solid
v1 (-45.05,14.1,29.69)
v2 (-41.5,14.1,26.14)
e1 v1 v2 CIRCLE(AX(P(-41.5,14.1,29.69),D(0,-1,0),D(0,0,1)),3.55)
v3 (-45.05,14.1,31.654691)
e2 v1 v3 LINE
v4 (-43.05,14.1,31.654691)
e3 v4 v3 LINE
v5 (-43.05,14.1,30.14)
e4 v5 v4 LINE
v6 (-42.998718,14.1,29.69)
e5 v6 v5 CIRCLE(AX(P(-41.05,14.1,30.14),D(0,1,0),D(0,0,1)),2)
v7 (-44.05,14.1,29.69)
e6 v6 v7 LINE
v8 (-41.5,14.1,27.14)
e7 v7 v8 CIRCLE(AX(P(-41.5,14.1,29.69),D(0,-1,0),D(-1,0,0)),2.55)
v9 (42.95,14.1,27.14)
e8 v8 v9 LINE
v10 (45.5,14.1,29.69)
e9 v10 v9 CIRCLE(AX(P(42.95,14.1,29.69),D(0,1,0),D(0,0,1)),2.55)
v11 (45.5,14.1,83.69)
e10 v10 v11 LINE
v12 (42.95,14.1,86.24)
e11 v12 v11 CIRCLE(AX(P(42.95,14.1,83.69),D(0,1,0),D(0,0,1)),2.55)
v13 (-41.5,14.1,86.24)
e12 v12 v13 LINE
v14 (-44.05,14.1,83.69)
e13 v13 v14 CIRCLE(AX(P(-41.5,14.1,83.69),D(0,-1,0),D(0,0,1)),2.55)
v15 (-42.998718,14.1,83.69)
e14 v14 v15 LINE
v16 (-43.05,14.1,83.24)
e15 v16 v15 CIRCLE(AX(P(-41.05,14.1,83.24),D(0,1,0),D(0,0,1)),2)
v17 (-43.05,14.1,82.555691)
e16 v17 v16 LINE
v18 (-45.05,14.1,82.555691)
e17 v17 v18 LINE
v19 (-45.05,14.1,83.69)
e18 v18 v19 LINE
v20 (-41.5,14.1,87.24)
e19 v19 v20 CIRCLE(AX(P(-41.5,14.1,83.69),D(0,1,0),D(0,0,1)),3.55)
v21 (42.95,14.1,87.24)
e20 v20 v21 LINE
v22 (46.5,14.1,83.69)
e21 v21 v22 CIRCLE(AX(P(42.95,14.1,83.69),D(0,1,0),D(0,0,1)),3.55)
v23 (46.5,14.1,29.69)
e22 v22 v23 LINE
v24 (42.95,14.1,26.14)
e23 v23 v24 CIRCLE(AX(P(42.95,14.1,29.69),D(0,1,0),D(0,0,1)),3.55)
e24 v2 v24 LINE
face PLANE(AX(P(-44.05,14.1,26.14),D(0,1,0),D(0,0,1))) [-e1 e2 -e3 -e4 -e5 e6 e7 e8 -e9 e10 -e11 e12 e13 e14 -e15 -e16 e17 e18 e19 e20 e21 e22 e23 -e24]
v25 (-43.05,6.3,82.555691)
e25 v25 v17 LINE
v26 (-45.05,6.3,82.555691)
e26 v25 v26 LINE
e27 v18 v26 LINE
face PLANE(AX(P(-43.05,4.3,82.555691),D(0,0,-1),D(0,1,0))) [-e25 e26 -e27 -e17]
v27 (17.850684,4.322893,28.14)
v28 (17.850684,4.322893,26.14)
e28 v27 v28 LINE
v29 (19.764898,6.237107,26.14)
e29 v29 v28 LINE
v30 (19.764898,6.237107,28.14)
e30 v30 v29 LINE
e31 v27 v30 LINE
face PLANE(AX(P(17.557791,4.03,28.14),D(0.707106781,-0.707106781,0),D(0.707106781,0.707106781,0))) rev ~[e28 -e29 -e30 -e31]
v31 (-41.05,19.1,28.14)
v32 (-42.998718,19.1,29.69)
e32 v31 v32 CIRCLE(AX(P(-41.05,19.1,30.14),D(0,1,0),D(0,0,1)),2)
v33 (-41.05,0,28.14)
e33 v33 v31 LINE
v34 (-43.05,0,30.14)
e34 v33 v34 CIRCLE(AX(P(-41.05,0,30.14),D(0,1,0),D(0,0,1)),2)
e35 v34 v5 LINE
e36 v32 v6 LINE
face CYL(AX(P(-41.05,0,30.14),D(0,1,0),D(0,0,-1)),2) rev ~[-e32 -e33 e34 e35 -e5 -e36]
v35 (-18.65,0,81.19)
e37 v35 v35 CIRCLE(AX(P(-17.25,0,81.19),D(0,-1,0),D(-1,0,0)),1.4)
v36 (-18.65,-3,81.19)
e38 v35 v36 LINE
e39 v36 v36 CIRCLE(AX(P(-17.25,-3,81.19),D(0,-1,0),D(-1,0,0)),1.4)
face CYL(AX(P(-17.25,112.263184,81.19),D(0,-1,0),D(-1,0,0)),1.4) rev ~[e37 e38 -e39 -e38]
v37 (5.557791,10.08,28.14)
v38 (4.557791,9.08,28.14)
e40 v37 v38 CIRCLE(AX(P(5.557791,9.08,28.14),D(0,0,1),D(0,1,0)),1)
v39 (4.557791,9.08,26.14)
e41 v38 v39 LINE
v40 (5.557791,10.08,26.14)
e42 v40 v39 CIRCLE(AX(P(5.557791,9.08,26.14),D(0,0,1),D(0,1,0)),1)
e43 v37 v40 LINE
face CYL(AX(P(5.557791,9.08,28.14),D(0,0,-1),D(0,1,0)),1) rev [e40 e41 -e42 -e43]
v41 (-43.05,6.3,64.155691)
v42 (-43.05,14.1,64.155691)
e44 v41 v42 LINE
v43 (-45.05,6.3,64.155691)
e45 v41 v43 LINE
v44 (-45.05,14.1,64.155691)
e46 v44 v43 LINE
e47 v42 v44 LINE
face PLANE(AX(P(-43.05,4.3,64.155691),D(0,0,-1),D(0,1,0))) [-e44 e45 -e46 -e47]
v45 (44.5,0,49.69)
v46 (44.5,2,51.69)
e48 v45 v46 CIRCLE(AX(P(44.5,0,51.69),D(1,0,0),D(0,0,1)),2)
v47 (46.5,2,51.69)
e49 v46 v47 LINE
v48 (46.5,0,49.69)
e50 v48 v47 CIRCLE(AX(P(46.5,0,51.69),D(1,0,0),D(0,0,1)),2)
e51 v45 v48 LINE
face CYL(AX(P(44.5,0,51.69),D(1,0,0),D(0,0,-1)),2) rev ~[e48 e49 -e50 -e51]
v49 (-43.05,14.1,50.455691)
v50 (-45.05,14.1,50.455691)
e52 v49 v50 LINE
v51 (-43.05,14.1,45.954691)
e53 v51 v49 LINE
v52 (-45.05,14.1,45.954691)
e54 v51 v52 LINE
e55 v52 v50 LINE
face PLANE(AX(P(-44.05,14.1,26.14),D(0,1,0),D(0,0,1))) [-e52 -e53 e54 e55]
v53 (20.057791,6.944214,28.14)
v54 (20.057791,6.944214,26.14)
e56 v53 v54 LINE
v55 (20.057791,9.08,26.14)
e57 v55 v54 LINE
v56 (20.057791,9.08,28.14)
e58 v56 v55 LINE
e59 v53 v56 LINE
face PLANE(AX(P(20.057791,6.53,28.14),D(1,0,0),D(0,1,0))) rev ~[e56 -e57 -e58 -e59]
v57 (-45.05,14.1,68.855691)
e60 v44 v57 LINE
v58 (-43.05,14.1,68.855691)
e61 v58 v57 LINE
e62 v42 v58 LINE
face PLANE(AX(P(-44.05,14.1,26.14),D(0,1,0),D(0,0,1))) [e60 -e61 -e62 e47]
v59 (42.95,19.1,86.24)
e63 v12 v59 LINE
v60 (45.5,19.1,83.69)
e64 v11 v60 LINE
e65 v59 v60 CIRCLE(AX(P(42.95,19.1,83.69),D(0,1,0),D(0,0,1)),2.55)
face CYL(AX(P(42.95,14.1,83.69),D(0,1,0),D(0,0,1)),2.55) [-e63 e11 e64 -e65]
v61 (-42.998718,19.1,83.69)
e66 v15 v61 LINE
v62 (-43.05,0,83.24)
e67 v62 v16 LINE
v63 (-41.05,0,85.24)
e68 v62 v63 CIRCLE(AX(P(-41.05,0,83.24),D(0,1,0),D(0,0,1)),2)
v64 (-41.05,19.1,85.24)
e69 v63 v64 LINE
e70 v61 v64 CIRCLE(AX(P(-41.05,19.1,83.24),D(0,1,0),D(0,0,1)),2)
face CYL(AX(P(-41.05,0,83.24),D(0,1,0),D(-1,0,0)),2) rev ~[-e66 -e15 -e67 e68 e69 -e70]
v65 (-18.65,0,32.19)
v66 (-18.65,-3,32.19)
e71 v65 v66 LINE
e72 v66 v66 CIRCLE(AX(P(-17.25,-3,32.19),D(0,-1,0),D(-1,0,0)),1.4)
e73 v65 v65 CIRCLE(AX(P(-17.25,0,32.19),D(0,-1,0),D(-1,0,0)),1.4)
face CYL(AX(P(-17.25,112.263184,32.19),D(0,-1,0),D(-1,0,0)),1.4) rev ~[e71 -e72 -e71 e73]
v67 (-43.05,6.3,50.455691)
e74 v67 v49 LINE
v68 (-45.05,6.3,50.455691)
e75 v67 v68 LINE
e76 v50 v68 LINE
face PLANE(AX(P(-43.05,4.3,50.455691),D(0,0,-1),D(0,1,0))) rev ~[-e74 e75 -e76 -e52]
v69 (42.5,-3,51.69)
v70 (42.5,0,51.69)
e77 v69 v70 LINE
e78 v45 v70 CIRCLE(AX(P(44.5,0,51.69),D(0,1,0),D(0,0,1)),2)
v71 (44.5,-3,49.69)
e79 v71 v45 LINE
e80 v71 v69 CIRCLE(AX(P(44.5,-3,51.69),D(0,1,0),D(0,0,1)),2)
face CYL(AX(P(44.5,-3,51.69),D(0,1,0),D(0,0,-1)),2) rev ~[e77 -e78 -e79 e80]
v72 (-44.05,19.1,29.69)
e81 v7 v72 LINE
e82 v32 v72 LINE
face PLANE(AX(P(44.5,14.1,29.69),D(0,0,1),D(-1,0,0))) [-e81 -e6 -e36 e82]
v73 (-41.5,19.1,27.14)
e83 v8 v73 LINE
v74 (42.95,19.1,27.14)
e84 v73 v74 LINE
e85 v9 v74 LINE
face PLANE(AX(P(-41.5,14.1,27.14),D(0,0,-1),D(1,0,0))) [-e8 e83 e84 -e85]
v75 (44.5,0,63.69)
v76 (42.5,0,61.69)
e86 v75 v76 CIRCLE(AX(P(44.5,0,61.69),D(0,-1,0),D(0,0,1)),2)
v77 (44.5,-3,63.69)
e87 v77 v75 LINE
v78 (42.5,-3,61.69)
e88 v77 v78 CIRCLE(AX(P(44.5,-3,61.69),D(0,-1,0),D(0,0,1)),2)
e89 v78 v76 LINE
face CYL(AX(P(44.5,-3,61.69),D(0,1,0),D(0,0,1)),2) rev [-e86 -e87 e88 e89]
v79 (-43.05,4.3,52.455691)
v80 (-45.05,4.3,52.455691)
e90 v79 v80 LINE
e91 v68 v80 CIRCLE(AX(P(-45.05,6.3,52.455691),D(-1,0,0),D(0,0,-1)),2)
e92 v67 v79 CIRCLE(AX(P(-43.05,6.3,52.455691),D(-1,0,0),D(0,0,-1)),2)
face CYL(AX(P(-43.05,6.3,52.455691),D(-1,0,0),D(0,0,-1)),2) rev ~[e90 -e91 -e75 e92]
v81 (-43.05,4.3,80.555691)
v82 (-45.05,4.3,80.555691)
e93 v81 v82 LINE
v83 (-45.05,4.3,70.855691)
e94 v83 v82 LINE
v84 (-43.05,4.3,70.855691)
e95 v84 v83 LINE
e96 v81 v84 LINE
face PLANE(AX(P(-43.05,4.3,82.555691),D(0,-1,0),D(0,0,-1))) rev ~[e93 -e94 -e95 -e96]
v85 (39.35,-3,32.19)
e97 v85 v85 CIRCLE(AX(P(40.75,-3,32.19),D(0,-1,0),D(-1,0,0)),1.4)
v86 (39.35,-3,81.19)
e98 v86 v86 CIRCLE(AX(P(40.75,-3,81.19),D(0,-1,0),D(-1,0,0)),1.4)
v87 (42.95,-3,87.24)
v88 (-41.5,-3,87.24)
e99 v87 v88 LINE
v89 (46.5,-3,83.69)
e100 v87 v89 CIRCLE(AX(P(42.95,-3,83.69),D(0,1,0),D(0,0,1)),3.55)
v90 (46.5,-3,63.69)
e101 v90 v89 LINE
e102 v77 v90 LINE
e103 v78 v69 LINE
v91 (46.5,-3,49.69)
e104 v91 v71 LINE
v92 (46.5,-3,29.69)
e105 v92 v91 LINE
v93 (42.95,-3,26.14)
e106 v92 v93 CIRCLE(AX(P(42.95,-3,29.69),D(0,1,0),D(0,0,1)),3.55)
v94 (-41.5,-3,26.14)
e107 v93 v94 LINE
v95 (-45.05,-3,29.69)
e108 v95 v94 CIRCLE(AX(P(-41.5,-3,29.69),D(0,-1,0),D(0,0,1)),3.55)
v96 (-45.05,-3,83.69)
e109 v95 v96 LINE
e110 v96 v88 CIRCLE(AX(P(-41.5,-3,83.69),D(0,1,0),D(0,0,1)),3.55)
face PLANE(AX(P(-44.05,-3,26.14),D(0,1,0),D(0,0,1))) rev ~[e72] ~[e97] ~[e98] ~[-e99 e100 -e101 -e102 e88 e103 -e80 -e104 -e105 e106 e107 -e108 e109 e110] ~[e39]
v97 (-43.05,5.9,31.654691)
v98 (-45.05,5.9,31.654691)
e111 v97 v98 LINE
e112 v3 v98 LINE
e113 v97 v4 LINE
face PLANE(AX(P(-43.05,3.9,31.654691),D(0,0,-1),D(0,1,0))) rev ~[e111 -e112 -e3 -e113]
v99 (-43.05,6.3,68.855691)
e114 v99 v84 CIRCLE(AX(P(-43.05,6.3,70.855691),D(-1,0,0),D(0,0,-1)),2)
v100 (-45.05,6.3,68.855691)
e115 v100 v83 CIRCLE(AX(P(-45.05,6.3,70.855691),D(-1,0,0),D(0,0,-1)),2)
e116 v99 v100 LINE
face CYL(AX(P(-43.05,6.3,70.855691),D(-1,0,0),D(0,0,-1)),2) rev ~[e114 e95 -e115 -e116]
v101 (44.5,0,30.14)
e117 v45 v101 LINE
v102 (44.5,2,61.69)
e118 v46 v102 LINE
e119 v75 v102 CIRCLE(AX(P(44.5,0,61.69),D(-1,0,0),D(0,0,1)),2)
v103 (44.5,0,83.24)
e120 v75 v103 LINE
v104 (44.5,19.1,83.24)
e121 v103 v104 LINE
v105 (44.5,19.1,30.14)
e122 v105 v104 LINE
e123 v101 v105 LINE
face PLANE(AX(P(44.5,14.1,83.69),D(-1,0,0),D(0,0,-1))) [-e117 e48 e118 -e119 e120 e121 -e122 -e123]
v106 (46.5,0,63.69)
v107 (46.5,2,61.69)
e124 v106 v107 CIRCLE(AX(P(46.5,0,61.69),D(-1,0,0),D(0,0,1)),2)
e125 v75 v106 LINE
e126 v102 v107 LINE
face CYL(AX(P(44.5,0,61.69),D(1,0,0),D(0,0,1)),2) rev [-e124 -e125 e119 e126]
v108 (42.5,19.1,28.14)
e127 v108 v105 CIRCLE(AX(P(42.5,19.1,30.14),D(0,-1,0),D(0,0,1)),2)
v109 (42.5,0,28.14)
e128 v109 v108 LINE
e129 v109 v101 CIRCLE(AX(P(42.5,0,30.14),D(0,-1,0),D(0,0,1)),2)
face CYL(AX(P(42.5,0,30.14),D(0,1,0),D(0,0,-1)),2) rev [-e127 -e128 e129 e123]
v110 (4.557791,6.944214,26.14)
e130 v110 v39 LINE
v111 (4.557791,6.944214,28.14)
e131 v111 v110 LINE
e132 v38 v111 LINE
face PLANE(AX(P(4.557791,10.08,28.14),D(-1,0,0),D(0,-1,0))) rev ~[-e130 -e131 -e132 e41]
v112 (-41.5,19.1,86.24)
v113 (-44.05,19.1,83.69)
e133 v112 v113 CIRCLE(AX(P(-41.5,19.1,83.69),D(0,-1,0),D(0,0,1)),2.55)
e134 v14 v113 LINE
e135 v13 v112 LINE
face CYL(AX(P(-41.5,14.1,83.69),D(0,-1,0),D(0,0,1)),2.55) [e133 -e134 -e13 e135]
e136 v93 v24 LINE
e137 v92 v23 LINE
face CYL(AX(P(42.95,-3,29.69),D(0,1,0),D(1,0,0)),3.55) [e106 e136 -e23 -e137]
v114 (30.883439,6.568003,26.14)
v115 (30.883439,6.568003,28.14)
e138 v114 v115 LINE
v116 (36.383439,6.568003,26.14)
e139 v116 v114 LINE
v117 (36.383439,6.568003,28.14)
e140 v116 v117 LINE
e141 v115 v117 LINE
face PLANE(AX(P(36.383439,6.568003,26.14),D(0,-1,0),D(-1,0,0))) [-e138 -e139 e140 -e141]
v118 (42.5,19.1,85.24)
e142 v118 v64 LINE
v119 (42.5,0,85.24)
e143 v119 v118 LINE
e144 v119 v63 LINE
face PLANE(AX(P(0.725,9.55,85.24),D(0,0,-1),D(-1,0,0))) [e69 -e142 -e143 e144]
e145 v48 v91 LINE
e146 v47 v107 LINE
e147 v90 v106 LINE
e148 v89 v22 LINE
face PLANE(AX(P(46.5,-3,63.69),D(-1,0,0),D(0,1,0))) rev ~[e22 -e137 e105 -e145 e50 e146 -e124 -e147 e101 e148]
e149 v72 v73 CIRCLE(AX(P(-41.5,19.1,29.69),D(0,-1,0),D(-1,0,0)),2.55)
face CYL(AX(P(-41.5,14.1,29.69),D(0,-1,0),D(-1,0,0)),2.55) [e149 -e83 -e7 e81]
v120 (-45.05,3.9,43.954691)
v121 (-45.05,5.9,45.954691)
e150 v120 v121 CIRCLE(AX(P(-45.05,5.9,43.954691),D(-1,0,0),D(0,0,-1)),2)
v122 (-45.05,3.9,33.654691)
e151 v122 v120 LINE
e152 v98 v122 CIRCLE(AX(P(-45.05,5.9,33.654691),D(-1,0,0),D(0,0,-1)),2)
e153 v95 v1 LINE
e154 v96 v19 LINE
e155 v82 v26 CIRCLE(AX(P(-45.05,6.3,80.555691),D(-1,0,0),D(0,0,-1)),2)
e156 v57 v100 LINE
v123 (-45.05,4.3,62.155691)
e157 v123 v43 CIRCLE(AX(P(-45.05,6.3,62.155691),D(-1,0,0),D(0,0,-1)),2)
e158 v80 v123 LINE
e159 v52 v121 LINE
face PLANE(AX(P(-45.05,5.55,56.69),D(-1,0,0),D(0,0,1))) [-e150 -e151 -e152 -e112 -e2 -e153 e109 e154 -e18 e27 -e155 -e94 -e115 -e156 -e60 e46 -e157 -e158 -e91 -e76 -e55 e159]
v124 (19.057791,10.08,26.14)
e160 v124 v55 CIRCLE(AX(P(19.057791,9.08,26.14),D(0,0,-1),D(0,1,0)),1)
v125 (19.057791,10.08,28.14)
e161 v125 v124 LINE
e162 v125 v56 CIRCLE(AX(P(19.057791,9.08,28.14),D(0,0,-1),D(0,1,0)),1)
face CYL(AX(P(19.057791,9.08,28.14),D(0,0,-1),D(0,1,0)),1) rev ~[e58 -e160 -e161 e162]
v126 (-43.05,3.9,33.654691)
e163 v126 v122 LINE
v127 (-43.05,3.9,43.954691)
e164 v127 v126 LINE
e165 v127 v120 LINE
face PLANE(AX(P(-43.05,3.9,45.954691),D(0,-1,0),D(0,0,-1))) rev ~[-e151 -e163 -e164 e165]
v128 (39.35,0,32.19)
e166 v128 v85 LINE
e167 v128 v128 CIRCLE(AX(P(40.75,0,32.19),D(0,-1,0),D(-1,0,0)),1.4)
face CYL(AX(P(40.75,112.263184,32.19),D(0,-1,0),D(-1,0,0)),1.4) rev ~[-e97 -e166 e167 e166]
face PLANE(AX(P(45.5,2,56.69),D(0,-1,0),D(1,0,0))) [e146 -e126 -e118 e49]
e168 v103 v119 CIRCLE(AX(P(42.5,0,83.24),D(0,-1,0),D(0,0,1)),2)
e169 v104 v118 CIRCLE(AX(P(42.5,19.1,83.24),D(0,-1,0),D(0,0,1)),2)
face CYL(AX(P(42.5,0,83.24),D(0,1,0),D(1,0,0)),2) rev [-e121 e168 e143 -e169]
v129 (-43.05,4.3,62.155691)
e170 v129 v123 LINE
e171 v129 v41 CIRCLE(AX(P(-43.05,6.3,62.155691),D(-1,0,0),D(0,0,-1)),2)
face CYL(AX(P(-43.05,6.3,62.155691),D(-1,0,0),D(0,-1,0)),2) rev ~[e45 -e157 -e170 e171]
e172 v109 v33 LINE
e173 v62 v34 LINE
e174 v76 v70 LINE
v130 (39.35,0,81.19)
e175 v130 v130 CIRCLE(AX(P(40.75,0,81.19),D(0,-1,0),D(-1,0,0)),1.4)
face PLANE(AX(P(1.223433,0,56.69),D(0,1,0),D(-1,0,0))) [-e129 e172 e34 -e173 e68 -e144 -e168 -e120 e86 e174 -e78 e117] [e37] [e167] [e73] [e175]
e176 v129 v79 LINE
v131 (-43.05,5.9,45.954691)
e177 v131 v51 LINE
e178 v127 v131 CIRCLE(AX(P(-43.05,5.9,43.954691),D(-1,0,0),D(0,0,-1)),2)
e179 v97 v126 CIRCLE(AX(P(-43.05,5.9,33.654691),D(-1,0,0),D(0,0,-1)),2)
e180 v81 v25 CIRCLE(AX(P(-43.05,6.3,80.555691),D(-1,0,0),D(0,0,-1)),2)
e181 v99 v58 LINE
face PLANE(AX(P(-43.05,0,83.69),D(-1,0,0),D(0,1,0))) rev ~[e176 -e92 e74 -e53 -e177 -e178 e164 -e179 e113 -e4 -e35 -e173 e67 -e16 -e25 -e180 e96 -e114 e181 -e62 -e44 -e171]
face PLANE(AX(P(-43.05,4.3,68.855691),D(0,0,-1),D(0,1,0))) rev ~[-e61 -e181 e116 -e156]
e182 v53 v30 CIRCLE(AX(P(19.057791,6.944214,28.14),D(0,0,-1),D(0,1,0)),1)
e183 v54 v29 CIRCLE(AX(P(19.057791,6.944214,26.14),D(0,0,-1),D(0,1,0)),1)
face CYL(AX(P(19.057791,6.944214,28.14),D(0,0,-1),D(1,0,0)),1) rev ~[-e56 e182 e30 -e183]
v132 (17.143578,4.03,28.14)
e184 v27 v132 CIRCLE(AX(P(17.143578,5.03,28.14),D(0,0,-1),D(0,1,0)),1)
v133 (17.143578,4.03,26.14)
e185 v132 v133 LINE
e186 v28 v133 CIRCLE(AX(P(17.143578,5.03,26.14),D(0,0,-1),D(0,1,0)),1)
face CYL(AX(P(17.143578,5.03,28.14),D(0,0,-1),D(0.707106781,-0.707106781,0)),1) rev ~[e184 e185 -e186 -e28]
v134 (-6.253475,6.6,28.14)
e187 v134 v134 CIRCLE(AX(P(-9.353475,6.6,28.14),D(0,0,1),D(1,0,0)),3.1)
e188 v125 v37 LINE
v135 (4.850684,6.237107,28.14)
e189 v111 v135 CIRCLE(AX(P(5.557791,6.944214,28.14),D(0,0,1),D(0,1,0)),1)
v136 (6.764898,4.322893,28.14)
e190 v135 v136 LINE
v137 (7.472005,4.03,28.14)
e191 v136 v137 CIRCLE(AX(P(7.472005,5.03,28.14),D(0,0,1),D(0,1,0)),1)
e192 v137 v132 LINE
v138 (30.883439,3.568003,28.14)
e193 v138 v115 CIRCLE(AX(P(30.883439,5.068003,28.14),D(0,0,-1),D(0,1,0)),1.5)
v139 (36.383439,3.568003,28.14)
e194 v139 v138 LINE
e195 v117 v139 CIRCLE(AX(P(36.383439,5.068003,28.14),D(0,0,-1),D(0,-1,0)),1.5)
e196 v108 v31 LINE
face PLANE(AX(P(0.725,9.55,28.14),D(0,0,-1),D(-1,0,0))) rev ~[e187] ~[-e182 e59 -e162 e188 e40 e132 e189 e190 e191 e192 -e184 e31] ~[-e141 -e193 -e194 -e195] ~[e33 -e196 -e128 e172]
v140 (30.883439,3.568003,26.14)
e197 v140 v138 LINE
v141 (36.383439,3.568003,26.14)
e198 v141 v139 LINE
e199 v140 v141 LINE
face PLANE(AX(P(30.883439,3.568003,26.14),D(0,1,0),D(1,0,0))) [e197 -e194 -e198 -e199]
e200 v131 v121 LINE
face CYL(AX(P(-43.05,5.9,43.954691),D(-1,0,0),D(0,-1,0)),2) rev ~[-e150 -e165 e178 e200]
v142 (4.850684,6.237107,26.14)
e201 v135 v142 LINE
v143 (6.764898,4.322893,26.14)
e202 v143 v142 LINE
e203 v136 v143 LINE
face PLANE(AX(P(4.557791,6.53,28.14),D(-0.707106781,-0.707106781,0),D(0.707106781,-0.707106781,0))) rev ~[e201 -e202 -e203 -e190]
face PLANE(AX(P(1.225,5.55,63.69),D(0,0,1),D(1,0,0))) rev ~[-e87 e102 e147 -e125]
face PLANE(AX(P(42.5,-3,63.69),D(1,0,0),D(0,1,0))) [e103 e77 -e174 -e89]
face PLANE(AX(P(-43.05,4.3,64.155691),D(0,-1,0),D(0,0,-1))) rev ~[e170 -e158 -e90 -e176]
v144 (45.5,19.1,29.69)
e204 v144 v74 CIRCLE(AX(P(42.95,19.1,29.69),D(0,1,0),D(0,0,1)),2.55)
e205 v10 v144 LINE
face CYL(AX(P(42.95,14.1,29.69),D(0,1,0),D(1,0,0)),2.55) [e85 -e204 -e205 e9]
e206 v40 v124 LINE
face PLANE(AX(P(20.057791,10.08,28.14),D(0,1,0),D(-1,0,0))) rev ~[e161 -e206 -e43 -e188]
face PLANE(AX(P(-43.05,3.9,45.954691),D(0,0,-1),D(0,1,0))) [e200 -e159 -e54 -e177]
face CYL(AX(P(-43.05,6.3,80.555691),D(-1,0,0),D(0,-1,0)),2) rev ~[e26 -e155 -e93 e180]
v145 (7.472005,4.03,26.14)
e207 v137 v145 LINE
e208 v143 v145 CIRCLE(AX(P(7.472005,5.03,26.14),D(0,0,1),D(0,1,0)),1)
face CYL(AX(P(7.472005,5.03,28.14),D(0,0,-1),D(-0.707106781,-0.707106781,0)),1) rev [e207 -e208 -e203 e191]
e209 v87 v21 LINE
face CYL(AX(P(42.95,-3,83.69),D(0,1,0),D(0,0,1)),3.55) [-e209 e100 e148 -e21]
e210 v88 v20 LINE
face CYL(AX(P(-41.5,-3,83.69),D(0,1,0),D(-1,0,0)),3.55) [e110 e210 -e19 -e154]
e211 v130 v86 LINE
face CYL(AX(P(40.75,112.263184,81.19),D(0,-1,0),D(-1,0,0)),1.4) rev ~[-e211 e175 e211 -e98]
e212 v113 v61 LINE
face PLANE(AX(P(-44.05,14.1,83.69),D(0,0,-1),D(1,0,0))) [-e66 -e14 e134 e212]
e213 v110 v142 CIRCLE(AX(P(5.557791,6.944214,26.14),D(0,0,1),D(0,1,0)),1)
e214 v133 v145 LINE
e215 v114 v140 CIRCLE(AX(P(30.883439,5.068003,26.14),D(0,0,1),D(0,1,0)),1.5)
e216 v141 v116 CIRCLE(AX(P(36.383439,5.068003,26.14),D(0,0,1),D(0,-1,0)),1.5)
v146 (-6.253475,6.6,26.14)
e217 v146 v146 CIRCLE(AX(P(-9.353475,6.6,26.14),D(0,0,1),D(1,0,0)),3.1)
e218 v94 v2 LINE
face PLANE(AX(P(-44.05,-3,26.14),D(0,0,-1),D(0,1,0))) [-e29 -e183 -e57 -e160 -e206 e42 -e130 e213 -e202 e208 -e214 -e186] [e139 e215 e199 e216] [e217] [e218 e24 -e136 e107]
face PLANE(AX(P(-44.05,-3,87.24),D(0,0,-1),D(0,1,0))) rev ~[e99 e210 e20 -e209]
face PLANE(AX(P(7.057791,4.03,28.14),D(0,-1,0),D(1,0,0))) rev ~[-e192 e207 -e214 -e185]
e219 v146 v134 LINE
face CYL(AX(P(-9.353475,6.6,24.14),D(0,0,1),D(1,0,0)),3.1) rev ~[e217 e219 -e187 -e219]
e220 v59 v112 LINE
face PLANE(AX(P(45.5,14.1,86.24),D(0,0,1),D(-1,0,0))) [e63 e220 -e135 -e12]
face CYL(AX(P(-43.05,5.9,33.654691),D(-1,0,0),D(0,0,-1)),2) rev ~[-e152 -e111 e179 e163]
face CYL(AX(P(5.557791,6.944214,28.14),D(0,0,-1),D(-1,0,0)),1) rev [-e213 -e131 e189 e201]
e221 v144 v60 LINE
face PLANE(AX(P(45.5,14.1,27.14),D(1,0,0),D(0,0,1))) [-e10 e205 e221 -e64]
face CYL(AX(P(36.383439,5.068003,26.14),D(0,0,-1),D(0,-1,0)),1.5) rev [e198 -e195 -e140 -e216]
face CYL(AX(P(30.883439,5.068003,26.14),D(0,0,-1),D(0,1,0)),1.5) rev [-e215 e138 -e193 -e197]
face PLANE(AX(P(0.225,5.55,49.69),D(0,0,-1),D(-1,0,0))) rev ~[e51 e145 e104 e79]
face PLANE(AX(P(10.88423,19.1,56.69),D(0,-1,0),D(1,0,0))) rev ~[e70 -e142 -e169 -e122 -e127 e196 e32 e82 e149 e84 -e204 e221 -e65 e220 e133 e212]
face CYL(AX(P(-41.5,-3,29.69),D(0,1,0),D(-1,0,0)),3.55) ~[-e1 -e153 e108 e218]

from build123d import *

# Parameters (mm, degrees)
SKETCH1_W                      = 86.55
SKETCH1_H                      = 17.1
BOSS_EXTRUDE1_DEPTH            = 14
SKETCH2_W                      = 88.55
SKETCH2_H                      = 17.1
BOSS_EXTRUDE2_DEPTH            = 23.55
SKETCH3_W                      = 37.55
SKETCH3_H                      = 17.1
BOSS_EXTRUDE3_DEPTH            = 2
SKETCH4_W                      = 90.55
SKETCH4_H                      = 17.1
BOSS_EXTRUDE4_DEPTH            = 23.55
SKETCH5_W                      = 2
SKETCH5_H                      = 14
CUT_EXTRUDE1_DEPTH             = 3
CUT_EXTRUDE2_DEPTH             = 14.1
SKETCH7_W                      = 2
SKETCH7_H                      = 14
CUT_EXTRUDE3_DEPTH             = 2
BOSS_EXTRUDE5_DEPTH            = 5
SKETCH9_W                      = 87.55
SKETCH9_H                      = 19.1
CUT_EXTRUDE4_DEPTH             = 1.55
SKETCH10_W                     = 61.1
SKETCH10_H                     = 17.1
BOSS_EXTRUDE6_DEPTH            = 1
CUT_EXTRUDE5_REACH             = 79.588
SKETCH11_W                     = 87.55
SKETCH11_H                     = 19.1
SKETCH12_W                     = 13.7
SKETCH12_H                     = 9.8
CUT_EXTRUDE6_DEPTH             = 127.470668932
SKETCH13_W                     = 13.7
SKETCH13_H                     = 9.8
CUT_EXTRUDE7_DEPTH             = 127.470668932
SKETCH14_W                     = 14.3
SKETCH14_H                     = 10.2
CUT_EXTRUDE8_DEPTH             = 127.470668932
CUT_EXTRUDE10_DEPTH            = 78.587821209
CUT_EXTRUDE11_REACH            = 81.122
F_2_8_2_8_DIAMETER_HOLE1_D     = 2.8
F_6_2_6_2_DIAMETER_HOLE1_D     = 6.2
F_6_2_6_2_DIAMETER_HOLE1_DEPTH = 2
FILLET1_R                      = 1
FILLET2_R                      = 2
FILLET3_R                      = 2.55
FILLET4_R                      = 3.55


with BuildPart() as part:
    # Sketch1 → Boss-Extrude1 (new body)
    with BuildSketch(Plane.XY.offset(63.69)):
        with Locations((-0.775, 5.55)):
            Rectangle(SKETCH1_W, SKETCH1_H)
    extrude(amount=-BOSS_EXTRUDE1_DEPTH)

    # Sketch2 → Boss-Extrude2 (add)
    with BuildSketch(Plane(origin=(0, 0, 49.69), x_dir=(-1, 0, 0), z_dir=(0, 0, -1))):
        with Locations((-0.225, 5.55)):
            Rectangle(SKETCH2_W, SKETCH2_H)
    extrude(amount=BOSS_EXTRUDE2_DEPTH)

    # Sketch3 → Boss-Extrude3 (add)
    with BuildSketch(Plane(origin=(44.5, 0, 0), x_dir=(0, 0, -1), z_dir=(1, 0, 0))):
        with Locations((-44.915, 5.55)):
            Rectangle(SKETCH3_W, SKETCH3_H)
    extrude(amount=BOSS_EXTRUDE3_DEPTH)

    # Sketch4 → Boss-Extrude4 (add)
    with BuildSketch(Plane.XY.offset(63.69)):
        with Locations((1.225, 5.55)):
            Rectangle(SKETCH4_W, SKETCH4_H)
    extrude(amount=BOSS_EXTRUDE4_DEPTH)

    # Sketch5 → Cut-Extrude1 (cut)
    with BuildSketch(Plane.XZ.offset(3)):
        with Locations((45.5, 56.69)):
            Rectangle(SKETCH5_W, SKETCH5_H)
    extrude(amount=-CUT_EXTRUDE1_DEPTH, mode=Mode.SUBTRACT)

    # Sketch6 → Cut-Extrude2 (cut)
    with BuildSketch(Plane(origin=(0, 14.1, 0), x_dir=(-1, 0, 0), z_dir=(0, 1, 0))):
        Polygon((43.05, 29.69), (43.05, 83.69), (-44.5, 83.69), (-44.5, 63.69), (-42.5, 63.69), (-42.5, 49.69), (-44.5, 49.69), (-44.5, 29.69), align=None)
    extrude(amount=-CUT_EXTRUDE2_DEPTH, mode=Mode.SUBTRACT)

    # Sketch7 → Cut-Extrude3 (cut)
    with BuildSketch(Plane.XZ):
        with Locations((45.5, 56.69)):
            Rectangle(SKETCH7_W, SKETCH7_H)
    extrude(amount=-CUT_EXTRUDE3_DEPTH, mode=Mode.SUBTRACT)

    # Sketch8 → Boss-Extrude5 (add)
    with BuildSketch(Plane(origin=(0, 14.1, 0), x_dir=(-1, 0, 0), z_dir=(0, 1, 0))):
        with BuildLine():
            Line((-44.5, 83.69), (-44.5, 29.69))
            Line((-44.5, 29.69), (44.05, 29.69))
            ThreePointArc((44.05, 29.69), (43.303122292, 27.886877708), (41.5, 27.14))
            Line((41.5, 27.14), (-45.5, 27.14))
            Line((-45.5, 27.14), (-45.5, 86.24))
            Line((-45.5, 86.24), (41.5, 86.24))
            ThreePointArc((41.5, 86.24), (43.303122292, 85.493122292), (44.05, 83.69))
            Line((44.05, 83.69), (-44.5, 83.69))
        make_face()
    extrude(amount=BOSS_EXTRUDE5_DEPTH)

    # Sketch9 → Cut-Extrude4 (cut)
    with BuildSketch(Plane(origin=(0, 0, 83.69), x_dir=(-1, 0, 0), z_dir=(0, 0, -1))):
        with Locations((-0.725, 9.55)):
            Rectangle(SKETCH9_W, SKETCH9_H)
    extrude(amount=-CUT_EXTRUDE4_DEPTH, mode=Mode.SUBTRACT)

    # Sketch10 → Boss-Extrude6 (add)
    with BuildSketch(Plane.ZY.offset(44.05)):
        with Locations((56.69, 5.55)):
            Rectangle(SKETCH10_W, SKETCH10_H)
    extrude(amount=BOSS_EXTRUDE6_DEPTH)

    # Sketch11 → Cut-Extrude5 (cut, up to next)
    with BuildSketch(Plane(origin=(0, 0, 28.14), x_dir=(-1, 0, 0), z_dir=(0, 0, -1)), mode=Mode.PRIVATE) as cut_extrude5_sk1:
        with Locations((-0.725, 9.55)):
            Rectangle(SKETCH11_W, SKETCH11_H)
    cut_extrude5_tool1 = extrude(cut_extrude5_sk1.sketch, amount=-CUT_EXTRUDE5_REACH, mode=Mode.PRIVATE) & part.part
    add(cut_extrude5_tool1.solids().sort_by_distance((0.725, 9.55, 28.14))[0], mode=Mode.SUBTRACT)

    # Sketch12 → Cut-Extrude6 (cut, through all)
    with BuildSketch(Plane(origin=(-43.05, 0, 0), x_dir=(0, 0, -1), z_dir=(1, 0, 0))):
        with Locations((-75.705690784, 9.2)):
            Rectangle(SKETCH12_W, SKETCH12_H)
    extrude(amount=-CUT_EXTRUDE6_DEPTH, mode=Mode.SUBTRACT)

    # Sketch13 → Cut-Extrude7 (cut, through all)
    with BuildSketch(Plane(origin=(-43.05, 0, 0), x_dir=(0, 0, -1), z_dir=(1, 0, 0))):
        with Locations((-57.305690784, 9.2)):
            Rectangle(SKETCH13_W, SKETCH13_H)
    extrude(amount=-CUT_EXTRUDE7_DEPTH, mode=Mode.SUBTRACT)

    # Sketch14 → Cut-Extrude8 (cut, through all)
    with BuildSketch(Plane(origin=(-43.05, 0, 0), x_dir=(0, 0, -1), z_dir=(1, 0, 0))):
        with Locations((-38.80469145, 9)):
            Rectangle(SKETCH14_W, SKETCH14_H)
    extrude(amount=-CUT_EXTRUDE8_DEPTH, mode=Mode.SUBTRACT)

    # Sketch16 → Cut-Extrude10 (cut, through all)
    with BuildSketch(Plane.XY.offset(28.14)):
        Polygon((20.057791158, 10.08), (4.557791136, 10.08), (4.557791136, 6.52999997), (7.057791136, 4.02999997), (17.557791158, 4.02999997), (20.057791158, 6.52999997), align=None)
    extrude(amount=-CUT_EXTRUDE10_DEPTH, mode=Mode.SUBTRACT)

    # Sketch17 → Cut-Extrude11 (cut, up to next)
    with BuildSketch(Plane(origin=(0, 0, 26.14), x_dir=(-1, 0, 0), z_dir=(0, 0, -1)), mode=Mode.PRIVATE) as cut_extrude11_sk1:
        with BuildLine():
            Line((-36.3834392, 6.568002867), (-30.8834392, 6.568002867))
            ThreePointArc((-30.8834392, 6.568002867), (-29.3834392, 5.068002867), (-30.8834392, 3.568002867))
            Line((-30.8834392, 3.568002867), (-36.3834392, 3.568002867))
            ThreePointArc((-36.3834392, 3.568002867), (-37.8834392, 5.068002867), (-36.3834392, 6.568002867))
        make_face()
    cut_extrude11_tool1 = extrude(cut_extrude11_sk1.sketch, amount=-CUT_EXTRUDE11_REACH, mode=Mode.PRIVATE) & part.part
    add(cut_extrude11_tool1.solids().sort_by_distance((33.633439, 5.068003, 26.14))[0], mode=Mode.SUBTRACT)

    # Ø2.8 (2.8) Diameter Hole1 (through all)
    with Locations(Plane(origin=(0, 0, 0), x_dir=(1, 0, 0), z_dir=(0, 1, 0))):
        with Locations((40.75, -81.19), (40.75, -32.19), (-17.25, -32.19), (-17.25, -81.19)):
            Hole(F_2_8_2_8_DIAMETER_HOLE1_D / 2)

    # Ø6.2 (6.2) Diameter Hole1
    with Locations(Plane(origin=(0, 0, 26.14), x_dir=(-1, 0, 0), z_dir=(0, 0, -1))):
        with Locations((9.353475334, 6.6)):
            Hole(F_6_2_6_2_DIAMETER_HOLE1_D / 2, depth=F_6_2_6_2_DIAMETER_HOLE1_DEPTH)

    # Fillet1
    fillet1_edges = [part.edges().sort_by_distance(p)[0] for p in [
        (20.057791158, 10.08, 27.14),
        (20.057791158, 6.52999997, 27.14),
        (17.557791158, 4.02999997, 27.14),
        (7.057791136, 4.02999997, 27.14),
        (4.557791136, 6.52999997, 27.14),
        (4.557791136, 10.08, 27.14),
    ]]
    fillet(fillet1_edges, radius=FILLET1_R)

    # Fillet2
    fillet2_edges = [part.edges().sort_by_distance(p)[0] for p in [
        (42.5, -1.5, 49.69),
        (42.5, -1.5, 63.69),
        (-44.05, 4.3, 82.555690784),
        (45.5, 2, 63.69),
        (-44.05, 4.3, 64.155690784),
        (-43.05, 9.55, 85.24),
        (44.5, 9.55, 85.24),
        (-44.05, 4.3, 50.455690784),
        (45.5, 2, 49.69),
        (-44.05, 3.9, 45.95469145),
        (-44.05, 4.3, 68.855690784),
        (-44.05, 3.9, 31.65469145),
        (44.5, 9.55, 28.14),
        (-43.05, 9.55, 28.14),
    ]]
    fillet(fillet2_edges, radius=FILLET2_R)

    # Fillet3
    fillet3_edges = [part.edges().sort_by_distance(p)[0] for p in [
        (45.5, 16.6, 86.24),
        (45.5, 16.6, 27.14),
    ]]
    fillet(fillet3_edges, radius=FILLET3_R)

    # Fillet4
    fillet4_edges = [part.edges().sort_by_distance(p)[0] for p in [
        (-45.05, 5.55, 26.14),
        (-45.05, 5.55, 87.24),
        (46.5, 5.55, 26.14),
        (46.5, 5.55, 87.24),
    ]]
    fillet(fillet4_edges, radius=FILLET4_R)


solid = part.part
